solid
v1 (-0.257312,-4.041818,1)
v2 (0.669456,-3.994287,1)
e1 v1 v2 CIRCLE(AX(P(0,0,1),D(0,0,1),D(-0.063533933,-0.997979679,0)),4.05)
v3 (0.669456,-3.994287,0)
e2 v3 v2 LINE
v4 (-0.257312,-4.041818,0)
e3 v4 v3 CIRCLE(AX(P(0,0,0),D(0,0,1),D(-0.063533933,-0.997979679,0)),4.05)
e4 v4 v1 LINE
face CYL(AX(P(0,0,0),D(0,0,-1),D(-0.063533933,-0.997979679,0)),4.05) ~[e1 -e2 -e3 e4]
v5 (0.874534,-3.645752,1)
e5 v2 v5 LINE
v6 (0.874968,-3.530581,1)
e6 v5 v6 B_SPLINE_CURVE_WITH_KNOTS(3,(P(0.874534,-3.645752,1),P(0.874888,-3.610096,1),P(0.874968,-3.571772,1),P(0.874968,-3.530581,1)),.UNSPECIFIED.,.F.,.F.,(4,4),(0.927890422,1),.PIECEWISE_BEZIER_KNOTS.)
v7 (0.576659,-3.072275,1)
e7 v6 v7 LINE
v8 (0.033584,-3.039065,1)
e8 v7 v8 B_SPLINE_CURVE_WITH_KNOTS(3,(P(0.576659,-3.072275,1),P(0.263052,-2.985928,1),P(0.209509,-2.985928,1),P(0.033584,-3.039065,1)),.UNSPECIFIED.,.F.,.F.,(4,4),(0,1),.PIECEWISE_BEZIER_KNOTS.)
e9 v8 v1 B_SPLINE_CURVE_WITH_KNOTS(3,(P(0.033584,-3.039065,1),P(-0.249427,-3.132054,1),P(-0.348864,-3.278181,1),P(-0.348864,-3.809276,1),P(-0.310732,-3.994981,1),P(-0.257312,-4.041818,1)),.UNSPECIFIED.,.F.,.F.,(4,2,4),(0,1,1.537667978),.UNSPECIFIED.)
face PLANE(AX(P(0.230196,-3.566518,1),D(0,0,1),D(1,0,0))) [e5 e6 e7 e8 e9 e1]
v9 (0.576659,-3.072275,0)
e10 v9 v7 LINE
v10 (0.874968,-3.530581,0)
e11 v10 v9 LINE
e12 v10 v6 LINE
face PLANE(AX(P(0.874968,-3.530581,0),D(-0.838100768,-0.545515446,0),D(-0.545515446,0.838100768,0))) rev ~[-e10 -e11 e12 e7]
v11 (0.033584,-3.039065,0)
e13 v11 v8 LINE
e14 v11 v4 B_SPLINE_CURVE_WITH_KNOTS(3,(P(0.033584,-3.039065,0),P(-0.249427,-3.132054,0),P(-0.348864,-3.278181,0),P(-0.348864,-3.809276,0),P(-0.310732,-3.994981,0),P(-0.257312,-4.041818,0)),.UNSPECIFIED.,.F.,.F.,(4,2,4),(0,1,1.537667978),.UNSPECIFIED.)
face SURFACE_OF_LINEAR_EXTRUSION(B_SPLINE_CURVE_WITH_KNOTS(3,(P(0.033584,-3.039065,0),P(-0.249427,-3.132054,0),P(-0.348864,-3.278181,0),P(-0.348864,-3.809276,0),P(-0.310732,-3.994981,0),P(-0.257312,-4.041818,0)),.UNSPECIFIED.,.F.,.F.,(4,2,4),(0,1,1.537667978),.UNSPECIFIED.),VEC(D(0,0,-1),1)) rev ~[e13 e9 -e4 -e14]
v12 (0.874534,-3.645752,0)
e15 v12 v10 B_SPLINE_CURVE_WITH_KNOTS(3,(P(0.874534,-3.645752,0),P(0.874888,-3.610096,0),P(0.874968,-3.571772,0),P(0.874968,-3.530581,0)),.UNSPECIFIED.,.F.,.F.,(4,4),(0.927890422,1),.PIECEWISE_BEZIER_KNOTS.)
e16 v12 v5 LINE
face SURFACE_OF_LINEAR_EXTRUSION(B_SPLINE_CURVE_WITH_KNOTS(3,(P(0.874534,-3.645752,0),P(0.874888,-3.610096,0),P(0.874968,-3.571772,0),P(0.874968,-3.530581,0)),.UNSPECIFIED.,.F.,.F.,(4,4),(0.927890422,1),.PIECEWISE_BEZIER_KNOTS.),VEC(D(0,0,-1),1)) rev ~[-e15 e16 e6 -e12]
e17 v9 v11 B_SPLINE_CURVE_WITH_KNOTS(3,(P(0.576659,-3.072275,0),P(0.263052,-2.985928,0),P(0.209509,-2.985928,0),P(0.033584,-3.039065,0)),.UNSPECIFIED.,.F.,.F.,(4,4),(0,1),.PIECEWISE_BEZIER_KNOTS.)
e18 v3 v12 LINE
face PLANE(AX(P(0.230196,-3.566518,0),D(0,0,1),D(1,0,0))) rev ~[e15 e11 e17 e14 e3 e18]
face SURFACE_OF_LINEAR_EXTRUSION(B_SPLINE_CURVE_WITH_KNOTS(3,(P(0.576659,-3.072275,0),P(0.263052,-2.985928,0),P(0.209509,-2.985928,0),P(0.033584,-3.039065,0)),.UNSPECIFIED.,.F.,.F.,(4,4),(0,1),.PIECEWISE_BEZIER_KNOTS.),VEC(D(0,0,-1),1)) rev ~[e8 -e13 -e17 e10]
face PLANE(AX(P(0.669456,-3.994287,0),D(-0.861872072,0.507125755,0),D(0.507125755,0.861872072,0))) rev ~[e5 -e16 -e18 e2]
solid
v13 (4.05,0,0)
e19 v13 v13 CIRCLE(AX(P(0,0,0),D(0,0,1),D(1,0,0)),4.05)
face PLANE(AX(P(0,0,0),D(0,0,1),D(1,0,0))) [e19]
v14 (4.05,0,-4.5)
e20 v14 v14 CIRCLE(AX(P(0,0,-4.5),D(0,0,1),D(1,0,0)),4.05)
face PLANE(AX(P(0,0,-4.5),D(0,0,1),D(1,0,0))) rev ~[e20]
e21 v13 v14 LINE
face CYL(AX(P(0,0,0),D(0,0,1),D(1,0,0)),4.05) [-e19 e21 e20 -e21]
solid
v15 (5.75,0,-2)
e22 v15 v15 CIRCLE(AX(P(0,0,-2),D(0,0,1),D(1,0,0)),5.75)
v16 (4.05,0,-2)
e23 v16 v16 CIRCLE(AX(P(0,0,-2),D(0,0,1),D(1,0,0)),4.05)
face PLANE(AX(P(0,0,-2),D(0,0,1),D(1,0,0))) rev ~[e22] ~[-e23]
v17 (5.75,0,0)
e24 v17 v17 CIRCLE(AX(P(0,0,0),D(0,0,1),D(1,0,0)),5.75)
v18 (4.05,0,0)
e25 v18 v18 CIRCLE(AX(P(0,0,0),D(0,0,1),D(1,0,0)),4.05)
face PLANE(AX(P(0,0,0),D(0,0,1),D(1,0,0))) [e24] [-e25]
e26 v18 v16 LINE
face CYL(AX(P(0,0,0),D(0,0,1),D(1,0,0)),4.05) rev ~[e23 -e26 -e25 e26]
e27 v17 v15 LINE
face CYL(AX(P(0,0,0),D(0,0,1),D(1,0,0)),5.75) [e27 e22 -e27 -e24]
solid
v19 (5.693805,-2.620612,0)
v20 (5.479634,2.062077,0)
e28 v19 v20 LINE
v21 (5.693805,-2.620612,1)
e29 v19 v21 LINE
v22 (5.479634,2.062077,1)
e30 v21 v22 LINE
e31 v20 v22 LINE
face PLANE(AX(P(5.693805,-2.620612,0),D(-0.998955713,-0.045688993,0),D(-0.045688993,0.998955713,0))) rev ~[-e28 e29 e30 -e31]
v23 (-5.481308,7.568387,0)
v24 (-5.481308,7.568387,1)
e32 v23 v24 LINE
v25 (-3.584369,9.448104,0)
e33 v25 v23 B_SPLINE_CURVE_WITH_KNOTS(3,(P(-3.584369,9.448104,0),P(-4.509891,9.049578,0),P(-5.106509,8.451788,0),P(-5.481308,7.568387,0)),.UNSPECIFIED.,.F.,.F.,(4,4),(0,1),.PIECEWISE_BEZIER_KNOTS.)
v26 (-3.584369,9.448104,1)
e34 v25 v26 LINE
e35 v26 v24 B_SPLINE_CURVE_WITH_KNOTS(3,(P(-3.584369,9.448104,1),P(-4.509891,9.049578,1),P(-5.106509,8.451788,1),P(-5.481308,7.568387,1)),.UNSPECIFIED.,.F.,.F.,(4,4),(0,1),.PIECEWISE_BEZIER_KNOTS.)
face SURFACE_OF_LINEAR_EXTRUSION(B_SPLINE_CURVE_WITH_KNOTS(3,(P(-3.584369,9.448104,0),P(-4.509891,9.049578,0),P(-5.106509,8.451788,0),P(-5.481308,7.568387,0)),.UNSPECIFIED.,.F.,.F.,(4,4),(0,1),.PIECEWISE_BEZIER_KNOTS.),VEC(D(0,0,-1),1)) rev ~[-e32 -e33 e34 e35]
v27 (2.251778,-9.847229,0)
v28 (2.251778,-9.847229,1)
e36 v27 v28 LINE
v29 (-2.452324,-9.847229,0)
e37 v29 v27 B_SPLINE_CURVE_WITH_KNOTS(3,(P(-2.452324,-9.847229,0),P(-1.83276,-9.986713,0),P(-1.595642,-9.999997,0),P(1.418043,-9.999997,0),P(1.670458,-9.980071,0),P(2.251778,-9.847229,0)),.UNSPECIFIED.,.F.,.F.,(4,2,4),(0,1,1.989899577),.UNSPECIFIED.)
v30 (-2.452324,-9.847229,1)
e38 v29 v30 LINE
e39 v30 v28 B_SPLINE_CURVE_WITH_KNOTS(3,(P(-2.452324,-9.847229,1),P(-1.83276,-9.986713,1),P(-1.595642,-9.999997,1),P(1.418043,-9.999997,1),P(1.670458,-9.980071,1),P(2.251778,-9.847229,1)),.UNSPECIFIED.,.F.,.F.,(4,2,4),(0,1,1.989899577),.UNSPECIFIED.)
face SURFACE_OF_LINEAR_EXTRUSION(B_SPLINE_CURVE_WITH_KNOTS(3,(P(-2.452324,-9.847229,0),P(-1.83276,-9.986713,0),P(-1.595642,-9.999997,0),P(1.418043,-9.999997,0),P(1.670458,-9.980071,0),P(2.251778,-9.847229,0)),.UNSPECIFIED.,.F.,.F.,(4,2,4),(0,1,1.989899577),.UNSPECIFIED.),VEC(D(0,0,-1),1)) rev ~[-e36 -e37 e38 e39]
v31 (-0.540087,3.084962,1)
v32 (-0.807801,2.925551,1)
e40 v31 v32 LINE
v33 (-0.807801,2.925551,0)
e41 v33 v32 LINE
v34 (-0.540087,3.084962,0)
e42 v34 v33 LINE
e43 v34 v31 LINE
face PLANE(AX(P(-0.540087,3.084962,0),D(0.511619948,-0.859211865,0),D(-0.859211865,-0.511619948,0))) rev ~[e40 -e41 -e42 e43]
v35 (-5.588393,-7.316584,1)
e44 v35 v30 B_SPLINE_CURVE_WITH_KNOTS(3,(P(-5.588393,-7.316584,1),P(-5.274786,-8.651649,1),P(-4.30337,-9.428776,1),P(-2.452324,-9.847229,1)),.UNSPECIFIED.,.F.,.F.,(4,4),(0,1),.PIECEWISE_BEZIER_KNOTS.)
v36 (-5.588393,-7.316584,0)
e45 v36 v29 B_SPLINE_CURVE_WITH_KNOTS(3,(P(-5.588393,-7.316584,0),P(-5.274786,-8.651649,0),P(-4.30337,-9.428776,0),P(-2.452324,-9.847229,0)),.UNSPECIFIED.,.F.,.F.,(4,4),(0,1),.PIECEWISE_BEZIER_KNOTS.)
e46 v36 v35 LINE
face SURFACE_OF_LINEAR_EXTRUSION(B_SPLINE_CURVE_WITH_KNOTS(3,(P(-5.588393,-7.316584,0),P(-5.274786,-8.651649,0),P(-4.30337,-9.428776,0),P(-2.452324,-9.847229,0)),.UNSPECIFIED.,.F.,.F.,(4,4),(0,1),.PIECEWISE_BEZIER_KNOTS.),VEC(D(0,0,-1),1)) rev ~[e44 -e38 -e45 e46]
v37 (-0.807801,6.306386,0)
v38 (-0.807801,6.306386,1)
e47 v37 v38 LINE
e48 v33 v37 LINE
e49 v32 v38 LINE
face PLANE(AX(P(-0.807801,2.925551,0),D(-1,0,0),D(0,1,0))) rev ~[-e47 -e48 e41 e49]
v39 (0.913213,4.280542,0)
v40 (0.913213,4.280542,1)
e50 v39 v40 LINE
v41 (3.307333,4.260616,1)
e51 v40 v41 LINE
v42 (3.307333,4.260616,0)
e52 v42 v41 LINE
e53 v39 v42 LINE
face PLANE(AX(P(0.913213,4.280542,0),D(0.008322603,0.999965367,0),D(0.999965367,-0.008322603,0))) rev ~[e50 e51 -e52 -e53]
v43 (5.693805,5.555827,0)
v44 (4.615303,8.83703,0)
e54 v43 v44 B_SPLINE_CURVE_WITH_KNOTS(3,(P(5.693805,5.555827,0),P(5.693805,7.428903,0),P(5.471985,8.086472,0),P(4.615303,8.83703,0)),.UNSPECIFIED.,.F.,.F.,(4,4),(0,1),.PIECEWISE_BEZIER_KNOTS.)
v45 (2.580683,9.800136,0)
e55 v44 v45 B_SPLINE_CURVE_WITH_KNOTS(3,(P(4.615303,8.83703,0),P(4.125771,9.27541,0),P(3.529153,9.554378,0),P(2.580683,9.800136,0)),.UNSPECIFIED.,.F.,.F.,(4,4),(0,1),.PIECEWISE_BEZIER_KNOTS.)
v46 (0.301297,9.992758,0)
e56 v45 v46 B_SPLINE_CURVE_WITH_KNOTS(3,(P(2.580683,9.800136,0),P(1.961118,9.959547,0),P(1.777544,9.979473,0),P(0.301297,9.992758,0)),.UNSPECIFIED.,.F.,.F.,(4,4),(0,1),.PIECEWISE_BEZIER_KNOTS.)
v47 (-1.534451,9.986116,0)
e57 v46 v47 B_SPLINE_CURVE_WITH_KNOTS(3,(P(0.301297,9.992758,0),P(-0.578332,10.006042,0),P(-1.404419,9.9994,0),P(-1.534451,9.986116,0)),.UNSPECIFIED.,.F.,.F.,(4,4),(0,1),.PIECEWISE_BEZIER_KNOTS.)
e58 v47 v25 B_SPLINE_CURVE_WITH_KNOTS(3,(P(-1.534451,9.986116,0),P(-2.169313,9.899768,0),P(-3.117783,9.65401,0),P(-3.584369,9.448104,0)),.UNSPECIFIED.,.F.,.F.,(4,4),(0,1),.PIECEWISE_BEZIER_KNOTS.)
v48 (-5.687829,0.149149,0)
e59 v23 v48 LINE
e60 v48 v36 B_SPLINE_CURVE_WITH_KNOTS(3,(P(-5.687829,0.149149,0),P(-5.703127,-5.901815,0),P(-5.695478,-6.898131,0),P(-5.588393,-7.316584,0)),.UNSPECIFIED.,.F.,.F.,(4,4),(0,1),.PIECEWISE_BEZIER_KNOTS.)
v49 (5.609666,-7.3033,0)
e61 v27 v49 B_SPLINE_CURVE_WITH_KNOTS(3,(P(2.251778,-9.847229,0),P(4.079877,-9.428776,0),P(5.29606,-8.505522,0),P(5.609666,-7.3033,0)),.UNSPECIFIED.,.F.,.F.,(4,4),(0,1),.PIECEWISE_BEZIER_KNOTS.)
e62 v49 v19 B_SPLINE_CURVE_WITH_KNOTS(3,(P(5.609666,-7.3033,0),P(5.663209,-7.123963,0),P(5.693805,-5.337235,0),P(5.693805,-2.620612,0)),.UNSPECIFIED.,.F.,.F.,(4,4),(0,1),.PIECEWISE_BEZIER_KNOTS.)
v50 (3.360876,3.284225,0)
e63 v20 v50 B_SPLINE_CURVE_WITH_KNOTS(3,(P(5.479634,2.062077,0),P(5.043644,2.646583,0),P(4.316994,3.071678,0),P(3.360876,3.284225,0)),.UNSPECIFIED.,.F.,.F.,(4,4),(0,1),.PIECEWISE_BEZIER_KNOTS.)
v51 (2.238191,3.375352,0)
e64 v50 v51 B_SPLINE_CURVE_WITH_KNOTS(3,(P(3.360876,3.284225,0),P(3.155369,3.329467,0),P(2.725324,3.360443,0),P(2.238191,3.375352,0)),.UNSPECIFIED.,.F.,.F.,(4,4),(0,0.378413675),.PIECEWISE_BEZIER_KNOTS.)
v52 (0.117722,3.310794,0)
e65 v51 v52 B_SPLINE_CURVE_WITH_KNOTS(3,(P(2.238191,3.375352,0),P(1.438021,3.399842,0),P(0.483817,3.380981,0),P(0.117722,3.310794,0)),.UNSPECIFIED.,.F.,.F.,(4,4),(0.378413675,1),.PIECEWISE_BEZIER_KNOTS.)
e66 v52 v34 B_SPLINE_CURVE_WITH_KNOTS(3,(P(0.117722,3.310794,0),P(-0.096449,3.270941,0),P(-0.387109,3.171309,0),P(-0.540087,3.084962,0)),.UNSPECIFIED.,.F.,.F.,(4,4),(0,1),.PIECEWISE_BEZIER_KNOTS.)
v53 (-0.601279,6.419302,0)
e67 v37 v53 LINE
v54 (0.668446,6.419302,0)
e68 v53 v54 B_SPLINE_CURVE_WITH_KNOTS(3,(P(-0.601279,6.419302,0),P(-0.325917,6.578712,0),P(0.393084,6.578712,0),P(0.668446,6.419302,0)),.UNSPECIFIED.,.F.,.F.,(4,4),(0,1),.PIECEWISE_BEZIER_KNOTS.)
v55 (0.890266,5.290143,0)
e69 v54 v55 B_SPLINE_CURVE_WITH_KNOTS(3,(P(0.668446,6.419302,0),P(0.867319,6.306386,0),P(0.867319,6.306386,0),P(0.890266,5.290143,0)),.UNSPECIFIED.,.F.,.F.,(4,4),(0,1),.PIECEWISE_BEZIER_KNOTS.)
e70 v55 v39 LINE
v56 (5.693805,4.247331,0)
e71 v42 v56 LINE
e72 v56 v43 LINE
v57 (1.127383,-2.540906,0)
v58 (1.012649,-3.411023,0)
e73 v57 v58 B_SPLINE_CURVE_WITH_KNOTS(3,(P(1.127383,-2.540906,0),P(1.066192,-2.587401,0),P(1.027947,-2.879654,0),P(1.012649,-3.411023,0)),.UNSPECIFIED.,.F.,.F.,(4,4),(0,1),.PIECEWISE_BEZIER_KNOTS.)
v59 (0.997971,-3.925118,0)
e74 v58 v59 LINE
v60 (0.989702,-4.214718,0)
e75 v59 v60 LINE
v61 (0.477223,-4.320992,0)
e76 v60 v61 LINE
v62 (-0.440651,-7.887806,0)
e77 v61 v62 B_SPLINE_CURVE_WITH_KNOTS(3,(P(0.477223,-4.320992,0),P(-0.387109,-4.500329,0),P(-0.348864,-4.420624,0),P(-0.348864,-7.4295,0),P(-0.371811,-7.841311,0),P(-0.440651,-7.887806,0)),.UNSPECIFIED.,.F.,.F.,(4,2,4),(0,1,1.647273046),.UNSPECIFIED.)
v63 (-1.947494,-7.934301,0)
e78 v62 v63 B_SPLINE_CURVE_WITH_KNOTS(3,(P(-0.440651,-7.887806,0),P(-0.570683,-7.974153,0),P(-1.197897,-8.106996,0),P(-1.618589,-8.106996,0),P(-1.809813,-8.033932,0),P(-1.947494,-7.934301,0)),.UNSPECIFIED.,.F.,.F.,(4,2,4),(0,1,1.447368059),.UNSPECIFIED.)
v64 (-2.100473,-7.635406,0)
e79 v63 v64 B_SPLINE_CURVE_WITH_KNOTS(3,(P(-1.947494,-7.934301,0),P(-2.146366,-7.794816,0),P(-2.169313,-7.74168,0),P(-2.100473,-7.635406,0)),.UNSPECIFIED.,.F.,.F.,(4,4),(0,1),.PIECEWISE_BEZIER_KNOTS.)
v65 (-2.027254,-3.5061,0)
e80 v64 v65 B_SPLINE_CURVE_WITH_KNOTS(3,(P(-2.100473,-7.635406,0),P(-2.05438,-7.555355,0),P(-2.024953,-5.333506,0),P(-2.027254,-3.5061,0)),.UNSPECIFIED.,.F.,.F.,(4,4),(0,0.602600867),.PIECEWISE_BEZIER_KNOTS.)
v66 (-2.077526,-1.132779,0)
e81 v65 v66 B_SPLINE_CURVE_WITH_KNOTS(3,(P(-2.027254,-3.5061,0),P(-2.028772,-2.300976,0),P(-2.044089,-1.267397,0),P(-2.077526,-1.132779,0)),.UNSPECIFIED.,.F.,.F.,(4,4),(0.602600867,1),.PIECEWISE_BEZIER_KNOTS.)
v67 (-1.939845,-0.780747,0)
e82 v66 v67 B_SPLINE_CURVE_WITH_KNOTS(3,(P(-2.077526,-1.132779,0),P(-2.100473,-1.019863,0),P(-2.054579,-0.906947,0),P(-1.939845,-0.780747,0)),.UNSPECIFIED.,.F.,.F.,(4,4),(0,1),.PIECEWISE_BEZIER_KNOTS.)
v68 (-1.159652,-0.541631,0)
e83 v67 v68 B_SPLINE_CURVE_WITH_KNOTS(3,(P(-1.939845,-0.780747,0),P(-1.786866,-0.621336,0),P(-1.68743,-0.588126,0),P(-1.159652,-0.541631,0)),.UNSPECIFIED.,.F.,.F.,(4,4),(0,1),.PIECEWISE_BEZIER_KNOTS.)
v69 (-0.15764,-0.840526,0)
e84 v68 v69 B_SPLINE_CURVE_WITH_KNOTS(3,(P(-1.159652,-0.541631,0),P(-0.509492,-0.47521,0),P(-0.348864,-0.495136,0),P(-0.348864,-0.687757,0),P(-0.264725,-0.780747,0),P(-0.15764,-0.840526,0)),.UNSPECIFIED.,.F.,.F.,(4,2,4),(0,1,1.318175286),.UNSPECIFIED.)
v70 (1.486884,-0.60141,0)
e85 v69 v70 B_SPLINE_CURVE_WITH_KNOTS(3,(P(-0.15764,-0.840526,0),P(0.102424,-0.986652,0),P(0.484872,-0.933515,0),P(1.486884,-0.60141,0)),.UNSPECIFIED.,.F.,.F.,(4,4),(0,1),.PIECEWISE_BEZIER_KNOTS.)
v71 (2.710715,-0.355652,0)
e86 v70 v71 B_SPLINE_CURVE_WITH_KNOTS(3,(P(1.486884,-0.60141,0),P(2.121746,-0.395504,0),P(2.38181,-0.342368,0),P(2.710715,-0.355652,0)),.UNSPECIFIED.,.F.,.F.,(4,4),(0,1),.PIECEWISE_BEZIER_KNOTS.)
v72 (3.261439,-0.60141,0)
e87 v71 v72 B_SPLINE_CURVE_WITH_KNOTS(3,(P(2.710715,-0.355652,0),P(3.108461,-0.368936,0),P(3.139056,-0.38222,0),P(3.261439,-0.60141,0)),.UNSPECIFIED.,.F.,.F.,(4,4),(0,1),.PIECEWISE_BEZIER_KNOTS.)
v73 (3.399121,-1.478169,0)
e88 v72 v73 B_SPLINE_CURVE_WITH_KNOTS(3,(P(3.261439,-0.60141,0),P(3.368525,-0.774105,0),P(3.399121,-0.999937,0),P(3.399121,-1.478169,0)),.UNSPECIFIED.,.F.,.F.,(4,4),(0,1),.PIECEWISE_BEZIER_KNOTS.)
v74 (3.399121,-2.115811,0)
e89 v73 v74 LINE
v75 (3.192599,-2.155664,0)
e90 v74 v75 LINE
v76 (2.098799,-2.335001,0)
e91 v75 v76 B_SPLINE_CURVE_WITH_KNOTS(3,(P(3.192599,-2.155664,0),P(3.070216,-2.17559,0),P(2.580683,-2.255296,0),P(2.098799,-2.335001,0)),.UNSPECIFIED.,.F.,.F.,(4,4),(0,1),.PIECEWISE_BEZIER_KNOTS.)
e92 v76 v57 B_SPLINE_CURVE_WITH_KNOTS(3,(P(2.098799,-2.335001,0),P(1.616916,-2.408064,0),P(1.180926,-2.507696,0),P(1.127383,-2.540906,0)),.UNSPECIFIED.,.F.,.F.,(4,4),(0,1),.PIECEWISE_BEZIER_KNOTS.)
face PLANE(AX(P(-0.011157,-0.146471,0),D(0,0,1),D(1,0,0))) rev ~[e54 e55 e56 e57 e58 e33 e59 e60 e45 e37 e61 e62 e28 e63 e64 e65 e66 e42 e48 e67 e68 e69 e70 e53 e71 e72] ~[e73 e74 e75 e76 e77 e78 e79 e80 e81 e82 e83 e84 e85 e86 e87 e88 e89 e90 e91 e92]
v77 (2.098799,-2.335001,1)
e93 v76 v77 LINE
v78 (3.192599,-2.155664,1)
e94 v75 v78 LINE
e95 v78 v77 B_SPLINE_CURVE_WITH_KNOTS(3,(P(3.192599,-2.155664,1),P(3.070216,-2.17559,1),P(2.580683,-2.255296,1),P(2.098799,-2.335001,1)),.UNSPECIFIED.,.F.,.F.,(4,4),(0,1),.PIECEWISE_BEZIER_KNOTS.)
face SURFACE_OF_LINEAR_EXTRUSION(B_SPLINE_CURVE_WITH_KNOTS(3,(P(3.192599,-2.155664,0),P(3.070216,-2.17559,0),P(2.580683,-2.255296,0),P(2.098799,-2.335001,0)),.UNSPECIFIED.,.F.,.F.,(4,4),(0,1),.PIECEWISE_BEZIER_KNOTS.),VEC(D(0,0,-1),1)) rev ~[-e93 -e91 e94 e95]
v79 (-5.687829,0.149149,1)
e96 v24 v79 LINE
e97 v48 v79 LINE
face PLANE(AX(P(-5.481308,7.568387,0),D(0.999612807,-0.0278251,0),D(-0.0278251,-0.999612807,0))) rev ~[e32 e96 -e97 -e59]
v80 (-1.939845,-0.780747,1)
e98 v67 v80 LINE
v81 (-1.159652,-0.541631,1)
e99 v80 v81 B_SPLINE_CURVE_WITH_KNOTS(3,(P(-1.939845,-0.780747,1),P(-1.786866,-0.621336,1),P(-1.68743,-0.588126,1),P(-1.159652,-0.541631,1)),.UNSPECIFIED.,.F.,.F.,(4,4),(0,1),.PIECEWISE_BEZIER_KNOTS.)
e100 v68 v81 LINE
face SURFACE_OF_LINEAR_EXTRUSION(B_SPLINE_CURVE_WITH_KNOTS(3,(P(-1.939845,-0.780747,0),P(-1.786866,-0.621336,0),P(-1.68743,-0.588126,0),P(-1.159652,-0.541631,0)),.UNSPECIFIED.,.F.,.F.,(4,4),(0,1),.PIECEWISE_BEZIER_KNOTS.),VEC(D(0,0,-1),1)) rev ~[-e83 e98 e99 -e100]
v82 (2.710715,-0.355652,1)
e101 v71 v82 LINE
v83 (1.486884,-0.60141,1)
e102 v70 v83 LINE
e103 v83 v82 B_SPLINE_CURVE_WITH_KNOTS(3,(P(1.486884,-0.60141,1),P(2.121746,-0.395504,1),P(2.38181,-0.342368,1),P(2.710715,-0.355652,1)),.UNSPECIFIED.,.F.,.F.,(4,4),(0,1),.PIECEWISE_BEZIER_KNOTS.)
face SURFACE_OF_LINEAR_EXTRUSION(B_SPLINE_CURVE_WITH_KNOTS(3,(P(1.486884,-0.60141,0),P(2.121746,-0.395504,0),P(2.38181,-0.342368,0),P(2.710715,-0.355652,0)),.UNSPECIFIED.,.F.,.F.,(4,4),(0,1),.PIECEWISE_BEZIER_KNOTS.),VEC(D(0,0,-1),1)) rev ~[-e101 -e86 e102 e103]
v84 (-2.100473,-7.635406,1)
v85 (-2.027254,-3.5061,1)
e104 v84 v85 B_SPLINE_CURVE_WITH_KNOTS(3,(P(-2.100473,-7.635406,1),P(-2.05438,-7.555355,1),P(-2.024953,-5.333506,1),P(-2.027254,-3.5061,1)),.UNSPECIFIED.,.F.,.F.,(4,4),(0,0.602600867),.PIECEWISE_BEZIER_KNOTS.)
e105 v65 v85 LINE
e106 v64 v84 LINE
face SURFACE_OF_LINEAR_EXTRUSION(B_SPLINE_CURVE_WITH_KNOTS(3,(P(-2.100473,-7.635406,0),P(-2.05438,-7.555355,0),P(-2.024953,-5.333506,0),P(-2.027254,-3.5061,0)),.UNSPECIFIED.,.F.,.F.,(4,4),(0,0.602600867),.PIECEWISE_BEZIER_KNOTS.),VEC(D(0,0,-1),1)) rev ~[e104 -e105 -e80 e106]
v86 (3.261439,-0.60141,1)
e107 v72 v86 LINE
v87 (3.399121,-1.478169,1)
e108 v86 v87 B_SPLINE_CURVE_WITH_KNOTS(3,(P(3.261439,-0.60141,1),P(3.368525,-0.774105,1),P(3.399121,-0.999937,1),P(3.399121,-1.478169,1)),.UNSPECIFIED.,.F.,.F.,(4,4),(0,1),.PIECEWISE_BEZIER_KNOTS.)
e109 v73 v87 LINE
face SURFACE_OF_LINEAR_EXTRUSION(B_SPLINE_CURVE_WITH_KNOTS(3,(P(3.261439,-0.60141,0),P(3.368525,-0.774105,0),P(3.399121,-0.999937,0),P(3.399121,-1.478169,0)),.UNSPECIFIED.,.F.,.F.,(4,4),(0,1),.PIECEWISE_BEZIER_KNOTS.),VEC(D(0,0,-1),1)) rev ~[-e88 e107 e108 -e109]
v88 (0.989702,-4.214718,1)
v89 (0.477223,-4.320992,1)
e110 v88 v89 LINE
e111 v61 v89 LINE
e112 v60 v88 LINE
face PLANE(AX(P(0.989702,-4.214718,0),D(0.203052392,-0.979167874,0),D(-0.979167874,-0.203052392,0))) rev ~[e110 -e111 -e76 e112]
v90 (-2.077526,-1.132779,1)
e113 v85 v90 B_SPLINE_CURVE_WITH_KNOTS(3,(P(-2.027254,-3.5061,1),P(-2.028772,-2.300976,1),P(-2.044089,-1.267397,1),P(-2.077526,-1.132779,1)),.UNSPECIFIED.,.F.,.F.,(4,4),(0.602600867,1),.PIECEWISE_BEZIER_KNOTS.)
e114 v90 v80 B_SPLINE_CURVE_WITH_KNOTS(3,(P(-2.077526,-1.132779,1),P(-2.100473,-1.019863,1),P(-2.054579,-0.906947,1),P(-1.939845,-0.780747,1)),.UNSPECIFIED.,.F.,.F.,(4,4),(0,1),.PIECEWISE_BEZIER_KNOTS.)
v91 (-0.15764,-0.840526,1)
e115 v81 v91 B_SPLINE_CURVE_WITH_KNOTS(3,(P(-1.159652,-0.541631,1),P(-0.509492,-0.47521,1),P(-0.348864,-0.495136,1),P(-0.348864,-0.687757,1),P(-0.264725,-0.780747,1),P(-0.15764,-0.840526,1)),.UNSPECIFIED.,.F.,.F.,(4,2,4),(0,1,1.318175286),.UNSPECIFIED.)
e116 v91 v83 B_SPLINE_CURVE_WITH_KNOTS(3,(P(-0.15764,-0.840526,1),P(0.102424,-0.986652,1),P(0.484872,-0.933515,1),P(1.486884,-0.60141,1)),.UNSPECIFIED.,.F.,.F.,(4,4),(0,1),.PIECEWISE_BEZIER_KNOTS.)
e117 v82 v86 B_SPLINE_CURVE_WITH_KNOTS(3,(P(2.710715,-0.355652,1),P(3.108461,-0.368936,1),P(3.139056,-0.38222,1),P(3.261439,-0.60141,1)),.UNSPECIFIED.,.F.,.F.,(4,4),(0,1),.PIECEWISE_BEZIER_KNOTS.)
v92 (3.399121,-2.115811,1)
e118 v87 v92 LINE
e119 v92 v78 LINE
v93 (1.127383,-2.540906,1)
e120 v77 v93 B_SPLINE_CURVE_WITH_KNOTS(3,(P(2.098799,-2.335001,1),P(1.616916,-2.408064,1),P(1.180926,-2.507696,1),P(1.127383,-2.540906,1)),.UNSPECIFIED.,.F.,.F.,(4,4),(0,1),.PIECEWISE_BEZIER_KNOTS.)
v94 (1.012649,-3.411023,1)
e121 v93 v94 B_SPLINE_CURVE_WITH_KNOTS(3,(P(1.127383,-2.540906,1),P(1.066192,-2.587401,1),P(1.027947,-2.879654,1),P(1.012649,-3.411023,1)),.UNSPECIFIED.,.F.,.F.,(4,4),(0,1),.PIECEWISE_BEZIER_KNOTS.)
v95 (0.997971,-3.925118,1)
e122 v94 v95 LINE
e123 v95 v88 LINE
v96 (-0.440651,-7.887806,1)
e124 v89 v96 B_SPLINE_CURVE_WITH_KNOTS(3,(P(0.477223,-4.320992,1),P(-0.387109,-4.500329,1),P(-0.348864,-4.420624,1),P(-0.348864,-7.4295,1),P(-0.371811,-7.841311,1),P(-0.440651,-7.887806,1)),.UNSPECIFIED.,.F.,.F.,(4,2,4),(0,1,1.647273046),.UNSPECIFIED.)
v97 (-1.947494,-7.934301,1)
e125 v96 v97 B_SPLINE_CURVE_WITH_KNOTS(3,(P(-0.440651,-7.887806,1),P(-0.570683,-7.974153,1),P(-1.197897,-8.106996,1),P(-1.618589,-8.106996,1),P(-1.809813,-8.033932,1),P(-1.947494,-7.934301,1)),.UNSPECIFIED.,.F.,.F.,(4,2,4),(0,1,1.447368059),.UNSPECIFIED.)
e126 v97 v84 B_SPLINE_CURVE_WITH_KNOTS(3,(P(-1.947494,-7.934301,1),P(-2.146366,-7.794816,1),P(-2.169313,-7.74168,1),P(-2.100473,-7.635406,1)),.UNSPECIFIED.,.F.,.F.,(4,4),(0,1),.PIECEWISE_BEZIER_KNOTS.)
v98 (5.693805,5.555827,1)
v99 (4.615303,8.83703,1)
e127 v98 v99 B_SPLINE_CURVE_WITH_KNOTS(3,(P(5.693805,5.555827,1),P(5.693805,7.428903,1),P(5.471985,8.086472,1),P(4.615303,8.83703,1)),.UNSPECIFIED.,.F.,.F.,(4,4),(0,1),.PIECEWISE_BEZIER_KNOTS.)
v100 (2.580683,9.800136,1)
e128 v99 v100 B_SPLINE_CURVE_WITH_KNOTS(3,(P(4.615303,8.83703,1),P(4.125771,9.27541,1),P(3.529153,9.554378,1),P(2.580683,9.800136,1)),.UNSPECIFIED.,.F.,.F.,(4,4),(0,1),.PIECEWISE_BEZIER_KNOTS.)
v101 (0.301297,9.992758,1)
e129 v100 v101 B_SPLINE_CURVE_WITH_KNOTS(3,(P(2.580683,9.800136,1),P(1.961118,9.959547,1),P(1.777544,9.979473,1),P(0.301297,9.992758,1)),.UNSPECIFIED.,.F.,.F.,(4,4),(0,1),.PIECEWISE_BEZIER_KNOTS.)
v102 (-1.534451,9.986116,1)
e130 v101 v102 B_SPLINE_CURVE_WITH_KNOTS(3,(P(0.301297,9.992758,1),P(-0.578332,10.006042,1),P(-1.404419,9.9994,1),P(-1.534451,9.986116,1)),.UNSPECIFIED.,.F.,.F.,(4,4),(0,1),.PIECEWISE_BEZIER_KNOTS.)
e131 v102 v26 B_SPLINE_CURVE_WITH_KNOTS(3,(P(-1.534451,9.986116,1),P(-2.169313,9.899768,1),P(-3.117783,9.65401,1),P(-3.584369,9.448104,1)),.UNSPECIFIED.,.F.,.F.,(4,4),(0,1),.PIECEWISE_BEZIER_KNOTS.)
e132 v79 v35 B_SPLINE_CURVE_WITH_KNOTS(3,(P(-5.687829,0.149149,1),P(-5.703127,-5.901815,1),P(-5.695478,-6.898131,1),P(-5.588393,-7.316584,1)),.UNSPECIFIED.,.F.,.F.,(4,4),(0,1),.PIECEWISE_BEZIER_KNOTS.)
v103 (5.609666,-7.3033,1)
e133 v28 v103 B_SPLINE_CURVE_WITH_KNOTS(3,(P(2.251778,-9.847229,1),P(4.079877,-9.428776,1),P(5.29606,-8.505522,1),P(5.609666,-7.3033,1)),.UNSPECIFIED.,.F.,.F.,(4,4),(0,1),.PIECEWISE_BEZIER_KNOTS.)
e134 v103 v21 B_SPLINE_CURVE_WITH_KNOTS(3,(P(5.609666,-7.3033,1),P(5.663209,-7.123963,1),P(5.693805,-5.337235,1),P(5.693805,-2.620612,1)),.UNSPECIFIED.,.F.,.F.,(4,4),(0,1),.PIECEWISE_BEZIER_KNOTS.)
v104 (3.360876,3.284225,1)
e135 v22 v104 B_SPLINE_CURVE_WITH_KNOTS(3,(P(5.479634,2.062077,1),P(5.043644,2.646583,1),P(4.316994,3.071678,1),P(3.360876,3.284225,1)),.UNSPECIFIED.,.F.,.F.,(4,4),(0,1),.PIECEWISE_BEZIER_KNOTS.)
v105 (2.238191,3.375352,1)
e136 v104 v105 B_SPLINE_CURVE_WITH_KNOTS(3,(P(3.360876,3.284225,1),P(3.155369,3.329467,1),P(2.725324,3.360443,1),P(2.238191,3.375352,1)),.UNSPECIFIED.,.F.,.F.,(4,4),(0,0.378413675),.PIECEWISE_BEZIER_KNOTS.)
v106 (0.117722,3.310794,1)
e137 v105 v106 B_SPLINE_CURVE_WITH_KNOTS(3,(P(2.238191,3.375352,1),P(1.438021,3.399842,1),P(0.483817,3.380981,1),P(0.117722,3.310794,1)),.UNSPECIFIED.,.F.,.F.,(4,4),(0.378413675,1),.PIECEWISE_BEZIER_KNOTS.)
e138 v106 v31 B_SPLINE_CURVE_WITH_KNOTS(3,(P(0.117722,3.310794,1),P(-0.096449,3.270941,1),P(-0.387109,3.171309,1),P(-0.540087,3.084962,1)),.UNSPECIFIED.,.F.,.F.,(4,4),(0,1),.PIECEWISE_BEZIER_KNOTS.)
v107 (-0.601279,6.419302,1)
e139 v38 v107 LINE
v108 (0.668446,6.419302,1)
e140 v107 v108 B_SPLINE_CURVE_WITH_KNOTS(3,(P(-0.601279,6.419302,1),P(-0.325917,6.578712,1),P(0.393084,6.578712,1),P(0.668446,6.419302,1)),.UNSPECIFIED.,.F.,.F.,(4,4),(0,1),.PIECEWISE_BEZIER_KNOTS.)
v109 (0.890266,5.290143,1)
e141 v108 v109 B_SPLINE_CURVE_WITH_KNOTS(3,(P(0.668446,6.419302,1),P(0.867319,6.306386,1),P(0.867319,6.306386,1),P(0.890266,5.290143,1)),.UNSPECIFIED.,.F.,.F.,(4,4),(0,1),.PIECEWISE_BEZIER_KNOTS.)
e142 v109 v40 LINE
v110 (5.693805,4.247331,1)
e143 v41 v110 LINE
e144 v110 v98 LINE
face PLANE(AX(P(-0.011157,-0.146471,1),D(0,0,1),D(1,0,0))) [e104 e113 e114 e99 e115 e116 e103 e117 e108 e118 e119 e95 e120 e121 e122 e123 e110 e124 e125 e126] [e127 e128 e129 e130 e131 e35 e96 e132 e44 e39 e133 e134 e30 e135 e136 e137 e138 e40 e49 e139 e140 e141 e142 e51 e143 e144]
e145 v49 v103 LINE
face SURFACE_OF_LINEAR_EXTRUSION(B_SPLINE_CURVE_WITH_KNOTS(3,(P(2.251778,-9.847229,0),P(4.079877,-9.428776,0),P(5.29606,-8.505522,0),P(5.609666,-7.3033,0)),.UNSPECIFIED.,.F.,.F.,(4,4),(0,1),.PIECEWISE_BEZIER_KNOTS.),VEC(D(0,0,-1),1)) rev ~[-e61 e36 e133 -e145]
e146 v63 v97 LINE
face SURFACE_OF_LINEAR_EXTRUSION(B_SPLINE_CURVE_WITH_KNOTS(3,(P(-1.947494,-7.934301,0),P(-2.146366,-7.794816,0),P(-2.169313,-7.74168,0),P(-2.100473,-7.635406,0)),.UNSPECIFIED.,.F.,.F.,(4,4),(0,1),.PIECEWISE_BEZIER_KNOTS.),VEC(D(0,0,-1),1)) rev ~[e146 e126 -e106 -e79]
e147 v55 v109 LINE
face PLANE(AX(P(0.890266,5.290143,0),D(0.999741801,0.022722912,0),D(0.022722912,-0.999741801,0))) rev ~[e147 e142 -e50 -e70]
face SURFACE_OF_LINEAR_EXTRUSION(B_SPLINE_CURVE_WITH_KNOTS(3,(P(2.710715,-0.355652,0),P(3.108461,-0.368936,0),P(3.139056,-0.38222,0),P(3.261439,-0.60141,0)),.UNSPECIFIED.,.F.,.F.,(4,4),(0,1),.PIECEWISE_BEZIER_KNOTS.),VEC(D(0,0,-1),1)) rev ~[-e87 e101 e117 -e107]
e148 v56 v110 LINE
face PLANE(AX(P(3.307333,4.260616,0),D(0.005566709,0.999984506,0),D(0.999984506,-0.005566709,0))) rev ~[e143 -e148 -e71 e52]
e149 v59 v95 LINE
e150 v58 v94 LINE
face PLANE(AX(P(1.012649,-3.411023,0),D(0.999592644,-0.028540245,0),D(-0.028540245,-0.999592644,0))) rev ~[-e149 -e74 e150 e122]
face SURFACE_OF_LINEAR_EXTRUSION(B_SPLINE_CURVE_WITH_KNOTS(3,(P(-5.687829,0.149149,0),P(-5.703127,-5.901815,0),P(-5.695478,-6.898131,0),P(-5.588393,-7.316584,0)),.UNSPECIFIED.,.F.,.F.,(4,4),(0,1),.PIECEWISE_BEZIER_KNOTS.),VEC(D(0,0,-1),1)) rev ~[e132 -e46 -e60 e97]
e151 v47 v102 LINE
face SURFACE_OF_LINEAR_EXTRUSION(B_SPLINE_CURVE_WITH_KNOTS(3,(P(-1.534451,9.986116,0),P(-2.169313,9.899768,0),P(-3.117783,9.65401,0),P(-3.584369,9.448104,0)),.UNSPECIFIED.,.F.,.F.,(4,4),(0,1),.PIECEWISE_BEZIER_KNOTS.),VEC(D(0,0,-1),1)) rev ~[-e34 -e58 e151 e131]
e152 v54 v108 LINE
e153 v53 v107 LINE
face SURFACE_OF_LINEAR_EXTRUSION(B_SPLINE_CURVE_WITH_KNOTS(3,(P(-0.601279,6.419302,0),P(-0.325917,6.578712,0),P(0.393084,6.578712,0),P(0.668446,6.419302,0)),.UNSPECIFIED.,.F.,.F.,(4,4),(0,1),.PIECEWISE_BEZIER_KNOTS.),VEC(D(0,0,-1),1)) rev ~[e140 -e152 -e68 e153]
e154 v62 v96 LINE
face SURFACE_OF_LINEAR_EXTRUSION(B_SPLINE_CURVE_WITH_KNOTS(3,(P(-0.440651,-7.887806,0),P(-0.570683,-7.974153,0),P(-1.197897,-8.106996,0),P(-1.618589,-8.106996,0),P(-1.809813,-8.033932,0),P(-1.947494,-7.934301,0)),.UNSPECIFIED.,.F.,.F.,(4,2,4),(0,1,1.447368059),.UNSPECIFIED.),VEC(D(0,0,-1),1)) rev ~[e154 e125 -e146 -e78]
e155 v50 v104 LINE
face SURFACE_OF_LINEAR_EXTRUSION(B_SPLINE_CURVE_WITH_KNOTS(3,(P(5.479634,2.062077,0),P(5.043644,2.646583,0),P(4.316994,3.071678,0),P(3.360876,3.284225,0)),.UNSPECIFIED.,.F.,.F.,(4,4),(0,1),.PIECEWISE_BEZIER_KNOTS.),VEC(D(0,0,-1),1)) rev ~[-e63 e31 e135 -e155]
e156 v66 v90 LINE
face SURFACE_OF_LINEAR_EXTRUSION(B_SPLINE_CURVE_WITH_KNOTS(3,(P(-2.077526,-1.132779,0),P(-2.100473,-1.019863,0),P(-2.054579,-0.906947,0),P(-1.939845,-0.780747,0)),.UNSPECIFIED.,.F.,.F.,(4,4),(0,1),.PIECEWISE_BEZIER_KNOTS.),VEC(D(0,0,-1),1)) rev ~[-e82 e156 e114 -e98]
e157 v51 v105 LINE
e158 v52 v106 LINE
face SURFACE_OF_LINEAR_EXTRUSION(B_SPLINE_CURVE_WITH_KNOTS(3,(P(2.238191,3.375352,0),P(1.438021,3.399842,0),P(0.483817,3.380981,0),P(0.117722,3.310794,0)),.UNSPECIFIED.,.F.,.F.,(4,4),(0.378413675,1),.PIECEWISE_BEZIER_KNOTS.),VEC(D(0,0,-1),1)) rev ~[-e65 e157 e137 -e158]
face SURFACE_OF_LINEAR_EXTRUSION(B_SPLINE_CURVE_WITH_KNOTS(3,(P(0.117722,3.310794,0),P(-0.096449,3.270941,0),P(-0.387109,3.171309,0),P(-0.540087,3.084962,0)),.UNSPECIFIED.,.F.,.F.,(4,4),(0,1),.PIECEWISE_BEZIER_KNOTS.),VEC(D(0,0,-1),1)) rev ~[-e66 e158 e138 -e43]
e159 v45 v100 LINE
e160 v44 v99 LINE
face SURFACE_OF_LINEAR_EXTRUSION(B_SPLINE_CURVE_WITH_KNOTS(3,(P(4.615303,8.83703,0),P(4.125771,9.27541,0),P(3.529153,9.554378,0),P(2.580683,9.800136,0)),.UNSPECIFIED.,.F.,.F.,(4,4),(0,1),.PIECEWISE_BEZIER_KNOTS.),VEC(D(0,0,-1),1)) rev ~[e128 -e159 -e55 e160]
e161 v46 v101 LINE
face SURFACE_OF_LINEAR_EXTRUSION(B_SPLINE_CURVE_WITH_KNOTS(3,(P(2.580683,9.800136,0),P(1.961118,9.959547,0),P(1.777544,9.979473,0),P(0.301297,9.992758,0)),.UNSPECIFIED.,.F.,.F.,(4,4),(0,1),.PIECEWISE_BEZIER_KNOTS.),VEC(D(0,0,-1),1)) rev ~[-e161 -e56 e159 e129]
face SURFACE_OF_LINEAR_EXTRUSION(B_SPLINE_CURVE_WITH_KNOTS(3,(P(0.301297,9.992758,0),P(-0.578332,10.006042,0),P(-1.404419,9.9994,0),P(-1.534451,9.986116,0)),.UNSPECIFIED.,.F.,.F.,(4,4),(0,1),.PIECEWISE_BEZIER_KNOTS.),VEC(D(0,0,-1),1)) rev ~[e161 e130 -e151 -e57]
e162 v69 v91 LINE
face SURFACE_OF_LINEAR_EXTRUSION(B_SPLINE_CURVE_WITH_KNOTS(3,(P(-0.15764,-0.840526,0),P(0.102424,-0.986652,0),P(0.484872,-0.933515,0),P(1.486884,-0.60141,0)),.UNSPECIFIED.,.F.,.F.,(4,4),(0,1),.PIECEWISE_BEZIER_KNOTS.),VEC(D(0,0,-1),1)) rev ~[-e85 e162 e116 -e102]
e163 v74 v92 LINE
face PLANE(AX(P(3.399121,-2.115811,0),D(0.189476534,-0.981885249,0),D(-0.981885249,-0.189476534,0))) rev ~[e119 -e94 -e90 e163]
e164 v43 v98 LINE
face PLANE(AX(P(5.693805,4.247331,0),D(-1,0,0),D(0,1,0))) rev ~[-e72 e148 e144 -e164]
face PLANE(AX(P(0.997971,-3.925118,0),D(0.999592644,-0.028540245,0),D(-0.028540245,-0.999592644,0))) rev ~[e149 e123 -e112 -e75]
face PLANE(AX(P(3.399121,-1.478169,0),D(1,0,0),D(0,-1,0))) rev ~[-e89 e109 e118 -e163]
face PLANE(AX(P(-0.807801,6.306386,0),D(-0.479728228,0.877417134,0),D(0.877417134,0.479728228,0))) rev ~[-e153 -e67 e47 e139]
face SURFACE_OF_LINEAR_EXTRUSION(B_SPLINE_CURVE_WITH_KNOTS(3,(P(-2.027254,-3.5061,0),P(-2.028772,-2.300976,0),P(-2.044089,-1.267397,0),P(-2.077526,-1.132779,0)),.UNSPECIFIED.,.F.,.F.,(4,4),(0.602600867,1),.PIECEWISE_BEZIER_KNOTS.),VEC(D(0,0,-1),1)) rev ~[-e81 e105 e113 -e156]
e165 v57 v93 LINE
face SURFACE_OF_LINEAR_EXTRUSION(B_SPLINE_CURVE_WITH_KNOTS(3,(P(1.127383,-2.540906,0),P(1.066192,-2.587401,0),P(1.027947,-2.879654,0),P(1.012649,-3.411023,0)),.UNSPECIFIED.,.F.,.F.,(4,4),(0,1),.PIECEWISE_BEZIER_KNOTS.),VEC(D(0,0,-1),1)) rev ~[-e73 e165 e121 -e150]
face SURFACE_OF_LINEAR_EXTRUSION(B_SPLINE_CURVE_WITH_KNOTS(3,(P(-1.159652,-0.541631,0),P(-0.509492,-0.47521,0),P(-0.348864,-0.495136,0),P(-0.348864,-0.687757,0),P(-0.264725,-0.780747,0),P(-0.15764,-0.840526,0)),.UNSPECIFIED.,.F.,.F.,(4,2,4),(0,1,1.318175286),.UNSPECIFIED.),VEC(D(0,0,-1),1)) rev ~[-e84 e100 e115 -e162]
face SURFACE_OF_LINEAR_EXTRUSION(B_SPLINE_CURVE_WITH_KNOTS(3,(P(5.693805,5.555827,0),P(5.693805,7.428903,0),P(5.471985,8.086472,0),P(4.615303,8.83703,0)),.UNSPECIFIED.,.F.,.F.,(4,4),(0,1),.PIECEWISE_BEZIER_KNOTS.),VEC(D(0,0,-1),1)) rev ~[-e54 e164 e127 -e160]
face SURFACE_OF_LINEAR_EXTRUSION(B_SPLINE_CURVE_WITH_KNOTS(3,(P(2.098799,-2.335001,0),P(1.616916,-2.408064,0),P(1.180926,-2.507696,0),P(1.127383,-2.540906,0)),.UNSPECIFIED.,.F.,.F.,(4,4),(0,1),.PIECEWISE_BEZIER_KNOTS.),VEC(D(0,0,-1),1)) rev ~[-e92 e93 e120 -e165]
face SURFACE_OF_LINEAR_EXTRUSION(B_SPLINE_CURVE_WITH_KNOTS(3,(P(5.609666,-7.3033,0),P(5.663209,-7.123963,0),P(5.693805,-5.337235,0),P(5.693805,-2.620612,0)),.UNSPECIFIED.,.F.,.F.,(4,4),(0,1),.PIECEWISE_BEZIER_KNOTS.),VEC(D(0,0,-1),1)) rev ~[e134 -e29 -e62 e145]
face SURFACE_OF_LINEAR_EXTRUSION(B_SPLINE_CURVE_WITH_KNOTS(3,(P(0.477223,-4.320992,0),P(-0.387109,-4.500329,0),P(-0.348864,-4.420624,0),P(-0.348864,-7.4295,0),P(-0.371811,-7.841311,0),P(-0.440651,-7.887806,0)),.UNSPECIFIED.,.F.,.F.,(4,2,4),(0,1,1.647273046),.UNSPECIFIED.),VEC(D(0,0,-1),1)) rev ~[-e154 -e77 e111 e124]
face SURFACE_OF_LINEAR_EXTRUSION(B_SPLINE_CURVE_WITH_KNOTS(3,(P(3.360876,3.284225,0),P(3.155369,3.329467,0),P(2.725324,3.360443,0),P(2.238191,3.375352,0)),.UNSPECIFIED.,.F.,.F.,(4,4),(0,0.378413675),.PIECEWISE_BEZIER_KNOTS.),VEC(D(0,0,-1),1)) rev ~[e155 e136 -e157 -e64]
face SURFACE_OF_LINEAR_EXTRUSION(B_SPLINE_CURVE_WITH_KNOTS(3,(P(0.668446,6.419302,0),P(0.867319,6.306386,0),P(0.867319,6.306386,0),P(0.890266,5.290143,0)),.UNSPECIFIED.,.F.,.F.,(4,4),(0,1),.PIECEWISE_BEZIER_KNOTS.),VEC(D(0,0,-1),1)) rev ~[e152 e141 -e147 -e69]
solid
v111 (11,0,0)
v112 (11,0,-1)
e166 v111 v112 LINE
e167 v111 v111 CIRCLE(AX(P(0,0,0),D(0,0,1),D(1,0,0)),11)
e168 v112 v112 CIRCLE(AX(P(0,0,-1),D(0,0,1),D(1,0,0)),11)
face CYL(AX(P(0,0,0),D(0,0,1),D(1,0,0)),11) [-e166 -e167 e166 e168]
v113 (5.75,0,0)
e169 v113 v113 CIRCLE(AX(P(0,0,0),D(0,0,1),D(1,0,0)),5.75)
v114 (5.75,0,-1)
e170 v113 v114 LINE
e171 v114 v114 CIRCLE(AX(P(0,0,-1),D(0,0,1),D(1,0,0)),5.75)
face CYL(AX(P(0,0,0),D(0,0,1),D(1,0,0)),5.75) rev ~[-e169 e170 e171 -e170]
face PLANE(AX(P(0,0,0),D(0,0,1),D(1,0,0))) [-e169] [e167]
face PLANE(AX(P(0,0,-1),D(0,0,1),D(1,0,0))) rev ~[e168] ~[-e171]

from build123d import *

# Parameters (mm, degrees)
F0_R     = 5.75
F0_R_2   = 4.05
F1_DEPTH = 2
F0_R_3   = 11
F2_DEPTH = 1
F3_DEPTH = 4.5
F5_DEPTH = 1


with BuildPart() as f1:
    # F0 (on Top) → F1 (new body)
    with BuildSketch(Plane.XY):
        Circle(F0_R)
        Circle(F0_R_2, mode=Mode.SUBTRACT)
    extrude(amount=-F1_DEPTH)


with BuildPart() as f2:
    # F0 (on Top) → F2 (new body)
    with BuildSketch(Plane.XY):
        Circle(F0_R_3)
        Circle(F0_R, mode=Mode.SUBTRACT)
    extrude(amount=-F2_DEPTH)


with BuildPart() as f3:
    # F0 (on Top) → F3 (new body)
    with BuildSketch(Plane.XY):
        Circle(F0_R_2)
    extrude(amount=-F3_DEPTH)


with BuildPart() as f5:
    # F4 (on face) → F5 (new body)
    with BuildSketch(Plane.XY):
        with BuildLine():
            add(Edge.make_bspline(
                [(-3.584369, 9.448104), (-4.509891, 9.049578), (-5.106509, 8.451788), (-5.481308, 7.568387)],
                knots=[0, 0, 0, 0, 1, 1, 1, 1], degree=3))
            Line((-5.481308, 7.568387), (-5.687829, 0.149149))
            add(Edge.make_bspline(
                [(-5.687829, 0.149149), (-5.703127, -5.901815), (-5.695478, -6.898131), (-5.588393, -7.316584)],
                knots=[0, 0, 0, 0, 1, 1, 1, 1], degree=3))
            add(Edge.make_bspline(
                [(-5.588393, -7.316584), (-5.274786, -8.651649), (-4.30337, -9.428776), (-2.452324, -9.847229)],
                knots=[0, 0, 0, 0, 1, 1, 1, 1], degree=3))
            add(Edge.make_bspline(
                [(-2.452324, -9.847229), (-1.83276, -9.986713), (-1.595642, -9.999997), (-0.081151, -9.999997)],
                knots=[0, 0, 0, 0, 1, 1, 1, 1], degree=3))
            add(Edge.make_bspline(
                [(-0.081151, -9.999997), (1.418043, -9.999997), (1.670458, -9.980071), (2.251778, -9.847229)],
                knots=[0, 0, 0, 0, 1, 1, 1, 1], degree=3))
            add(Edge.make_bspline(
                [(2.251778, -9.847229), (4.079877, -9.428776), (5.29606, -8.505522), (5.609666, -7.3033)],
                knots=[0, 0, 0, 0, 1, 1, 1, 1], degree=3))
            add(Edge.make_bspline(
                [(5.609666, -7.3033), (5.663209, -7.123963), (5.693805, -5.337235), (5.693805, -2.620612)],
                knots=[0, 0, 0, 0, 1, 1, 1, 1], degree=3))
            Line((5.693805, -2.620612), (5.479634, 2.062077))
            add(Edge.make_bspline(
                [(5.479634, 2.062077), (5.043644, 2.646583), (4.316994, 3.071678), (3.360876, 3.284225)],
                knots=[0, 0, 0, 0, 1, 1, 1, 1], degree=3))
            add(Edge.make_bspline(
                [(3.360876, 3.284225), (3.1553689934, 3.3294673822), (2.7253242209, 3.360442913), (2.238191116, 3.3753519118)],
                knots=[0, 0, 0, 0, 0.378413675, 0.378413675, 0.378413675, 0.378413675], degree=3))
            ThreePointArc((2.238191116, 3.3753519118), (3.5684151958, 1.9154406778), (4.05, 0))
            ThreePointArc((4.05, 0), (3.1972082334, -2.4860328864), (0.9979706111, -3.9251184262))
            Line((0.9979706111, -3.9251184262), (0.989702, -4.214718))
            Line((0.989702, -4.214718), (0.477223, -4.320992))
            add(Edge.make_bspline(
                [(0.477223, -4.320992), (-0.387109, -4.500329), (-0.348864, -4.420624), (-0.348864, -6.247204)],
                knots=[0, 0, 0, 0, 1, 1, 1, 1], degree=3))
            add(Edge.make_bspline(
                [(-0.348864, -6.247204), (-0.348864, -7.4295), (-0.371811, -7.841311), (-0.440651, -7.887806)],
                knots=[0, 0, 0, 0, 1, 1, 1, 1], degree=3))
            add(Edge.make_bspline(
                [(-0.440651, -7.887806), (-0.570683, -7.974153), (-1.197897, -8.106996), (-1.488557, -8.106996)],
                knots=[0, 0, 0, 0, 1, 1, 1, 1], degree=3))
            add(Edge.make_bspline(
                [(-1.488557, -8.106996), (-1.618589, -8.106996), (-1.809813, -8.033932), (-1.947494, -7.934301)],
                knots=[0, 0, 0, 0, 1, 1, 1, 1], degree=3))
            add(Edge.make_bspline(
                [(-1.947494, -7.934301), (-2.146366, -7.794816), (-2.169313, -7.74168), (-2.100473, -7.635406)],
                knots=[0, 0, 0, 0, 1, 1, 1, 1], degree=3))
            add(Edge.make_bspline(
                [(-2.100473, -7.635406), (-2.0543800597, -7.5553552956), (-2.0249525069, -5.3335056257), (-2.0272542069, -3.5061004522)],
                knots=[0, 0, 0, 0, 0.6026008669, 0.6026008669, 0.6026008669, 0.6026008669], degree=3))
            ThreePointArc((-2.0272542069, -3.5061004522), (-3.9971554901, 0.652110411), (-0.807801, 3.9686216177))
            Line((-0.807801, 3.9686216177), (-0.807801, 4.612647))
            Line((-0.807801, 4.612647), (-0.807801, 6.306386))
            Line((-0.807801, 6.306386), (-0.601279, 6.419302))
            add(Edge.make_bspline(
                [(-0.601279, 6.419302), (-0.325917, 6.578712), (0.393084, 6.578712), (0.668446, 6.419302)],
                knots=[0, 0, 0, 0, 1, 1, 1, 1], degree=3))
            add(Edge.make_bspline(
                [(0.668446, 6.419302), (0.867319, 6.306386), (0.867319, 6.306386), (0.890266, 5.290143)],
                knots=[0, 0, 0, 0, 1, 1, 1, 1], degree=3))
            Line((0.890266, 5.290143), (5.693805, 5.555827))
            add(Edge.make_bspline(
                [(5.693805, 5.555827), (5.693805, 7.428903), (5.471985, 8.086472), (4.615303, 8.83703)],
                knots=[0, 0, 0, 0, 1, 1, 1, 1], degree=3))
            add(Edge.make_bspline(
                [(4.615303, 8.83703), (4.125771, 9.27541), (3.529153, 9.554378), (2.580683, 9.800136)],
                knots=[0, 0, 0, 0, 1, 1, 1, 1], degree=3))
            add(Edge.make_bspline(
                [(2.580683, 9.800136), (1.961118, 9.959547), (1.777544, 9.979473), (0.301297, 9.992758)],
                knots=[0, 0, 0, 0, 1, 1, 1, 1], degree=3))
            add(Edge.make_bspline(
                [(0.301297, 9.992758), (-0.578332, 10.006042), (-1.404419, 9.9994), (-1.534451, 9.986116)],
                knots=[0, 0, 0, 0, 1, 1, 1, 1], degree=3))
            add(Edge.make_bspline(
                [(-1.534451, 9.986116), (-2.169313, 9.899768), (-3.117783, 9.65401), (-3.584369, 9.448104)],
                knots=[0, 0, 0, 0, 1, 1, 1, 1], degree=3))
        make_face()
        Polygon((5.693805, 4.247331), (5.693805, 5.555827), (0.890266, 5.290143), (0.913213, 4.280542), (3.307333, 4.260616), align=None)
        with BuildLine():
            ThreePointArc((4.05, 0), (3.5684151958, 1.9154406778), (2.238191116, 3.3753519118))
            add(Edge.make_bspline(
                [(2.238191116, 3.3753519118), (1.4380210999, 3.3998415916), (0.4838170762, 3.3809810415), (0.117722, 3.310794)],
                knots=[0.378413675, 0.378413675, 0.378413675, 0.378413675, 1, 1, 1, 1], degree=3))
            add(Edge.make_bspline(
                [(0.117722, 3.310794), (-0.096449, 3.270941), (-0.387109, 3.171309), (-0.540087, 3.084962)],
                knots=[0, 0, 0, 0, 1, 1, 1, 1], degree=3))
            Line((-0.540087, 3.084962), (-0.807801, 2.925551))
            Line((-0.807801, 2.925551), (-0.807801, 3.9686216177))
            ThreePointArc((-0.807801, 3.9686216177), (-3.9971554901, 0.652110411), (-2.0272542069, -3.5061004522))
            add(Edge.make_bspline(
                [(-2.0272542069, -3.5061004522), (-2.0287721164, -2.3009756809), (-2.0440892343, -1.2673967641), (-2.077526, -1.132779)],
                knots=[0.6026008669, 0.6026008669, 0.6026008669, 0.6026008669, 1, 1, 1, 1], degree=3))
            add(Edge.make_bspline(
                [(-2.077526, -1.132779), (-2.100473, -1.019863), (-2.054579, -0.906947), (-1.939845, -0.780747)],
                knots=[0, 0, 0, 0, 1, 1, 1, 1], degree=3))
            add(Edge.make_bspline(
                [(-1.939845, -0.780747), (-1.786866, -0.621336), (-1.68743, -0.588126), (-1.159652, -0.541631)],
                knots=[0, 0, 0, 0, 1, 1, 1, 1], degree=3))
            add(Edge.make_bspline(
                [(-1.159652, -0.541631), (-0.509492, -0.47521), (-0.348864, -0.495136), (-0.348864, -0.641263)],
                knots=[0, 0, 0, 0, 1, 1, 1, 1], degree=3))
            add(Edge.make_bspline(
                [(-0.348864, -0.641263), (-0.348864, -0.687757), (-0.264725, -0.780747), (-0.15764, -0.840526)],
                knots=[0, 0, 0, 0, 1, 1, 1, 1], degree=3))
            add(Edge.make_bspline(
                [(-0.15764, -0.840526), (0.102424, -0.986652), (0.484872, -0.933515), (1.486884, -0.60141)],
                knots=[0, 0, 0, 0, 1, 1, 1, 1], degree=3))
            add(Edge.make_bspline(
                [(1.486884, -0.60141), (2.121746, -0.395504), (2.38181, -0.342368), (2.710715, -0.355652)],
                knots=[0, 0, 0, 0, 1, 1, 1, 1], degree=3))
            add(Edge.make_bspline(
                [(2.710715, -0.355652), (3.108461, -0.368936), (3.139056, -0.38222), (3.261439, -0.60141)],
                knots=[0, 0, 0, 0, 1, 1, 1, 1], degree=3))
            add(Edge.make_bspline(
                [(3.261439, -0.60141), (3.368525, -0.774105), (3.399121, -0.999937), (3.399121, -1.478169)],
                knots=[0, 0, 0, 0, 1, 1, 1, 1], degree=3))
            Line((3.399121, -1.478169), (3.399121, -2.115811))
            Line((3.399121, -2.115811), (3.192599, -2.155664))
            add(Edge.make_bspline(
                [(3.192599, -2.155664), (3.070216, -2.17559), (2.580683, -2.255296), (2.098799, -2.335001)],
                knots=[0, 0, 0, 0, 1, 1, 1, 1], degree=3))
            add(Edge.make_bspline(
                [(2.098799, -2.335001), (1.616916, -2.408064), (1.180926, -2.507696), (1.127383, -2.540906)],
                knots=[0, 0, 0, 0, 1, 1, 1, 1], degree=3))
            add(Edge.make_bspline(
                [(1.127383, -2.540906), (1.066192, -2.587401), (1.027947, -2.879654), (1.012649, -3.411023)],
                knots=[0, 0, 0, 0, 1, 1, 1, 1], degree=3))
            Line((1.012649, -3.411023), (0.9979706111, -3.9251184262))
            ThreePointArc((0.9979706111, -3.9251184262), (3.1972082334, -2.4860328864), (4.05, 0))
        make_face()
    extrude(amount=F5_DEPTH)


with BuildPart() as f5b:
    # F4 (on face) → F5, piece 2 (new body)
    with BuildSketch(Plane.XY):
        with BuildLine():
            add(Edge.make_bspline(
                [(-0.348864, -3.623571), (-0.348864, -3.809276143), (-0.3107315498, -3.9949812859), (-0.2573124292, -4.0418176992)],
                knots=[0, 0, 0, 0, 0.9985274841, 0.9985274841, 0.9985274841, 0.9985274841], degree=3))
            ThreePointArc((-0.2573124292, -4.0418176992), (0.2074378073, -4.0446841108), (0.6694563399, -3.9942869462))
            Line((0.6694563399, -3.9942869462), (0.8745343363, -3.6457520987))
            add(Edge.make_bspline(
                [(0.8745343363, -3.6457520987), (0.8748884536, -3.6100955301), (0.874968, -3.5717715771), (0.874968, -3.530581)],
                knots=[0.9278904225, 0.9278904225, 0.9278904225, 0.9278904225, 1, 1, 1, 1], degree=3))
            Line((0.874968, -3.530581), (0.576659, -3.072275))
            add(Edge.make_bspline(
                [(0.576659, -3.072275), (0.263052, -2.985928), (0.209509, -2.985928), (0.033584, -3.039065)],
                knots=[0, 0, 0, 0, 1, 1, 1, 1], degree=3))
            add(Edge.make_bspline(
                [(0.033584, -3.039065), (-0.249427, -3.132054), (-0.348864, -3.278181), (-0.348864, -3.623571)],
                knots=[0, 0, 0, 0, 1, 1, 1, 1], degree=3))
        make_face()
    extrude(amount=F5_DEPTH)


solid = Compound([f1.part, f2.part, f3.part, f5.part, f5b.part])
